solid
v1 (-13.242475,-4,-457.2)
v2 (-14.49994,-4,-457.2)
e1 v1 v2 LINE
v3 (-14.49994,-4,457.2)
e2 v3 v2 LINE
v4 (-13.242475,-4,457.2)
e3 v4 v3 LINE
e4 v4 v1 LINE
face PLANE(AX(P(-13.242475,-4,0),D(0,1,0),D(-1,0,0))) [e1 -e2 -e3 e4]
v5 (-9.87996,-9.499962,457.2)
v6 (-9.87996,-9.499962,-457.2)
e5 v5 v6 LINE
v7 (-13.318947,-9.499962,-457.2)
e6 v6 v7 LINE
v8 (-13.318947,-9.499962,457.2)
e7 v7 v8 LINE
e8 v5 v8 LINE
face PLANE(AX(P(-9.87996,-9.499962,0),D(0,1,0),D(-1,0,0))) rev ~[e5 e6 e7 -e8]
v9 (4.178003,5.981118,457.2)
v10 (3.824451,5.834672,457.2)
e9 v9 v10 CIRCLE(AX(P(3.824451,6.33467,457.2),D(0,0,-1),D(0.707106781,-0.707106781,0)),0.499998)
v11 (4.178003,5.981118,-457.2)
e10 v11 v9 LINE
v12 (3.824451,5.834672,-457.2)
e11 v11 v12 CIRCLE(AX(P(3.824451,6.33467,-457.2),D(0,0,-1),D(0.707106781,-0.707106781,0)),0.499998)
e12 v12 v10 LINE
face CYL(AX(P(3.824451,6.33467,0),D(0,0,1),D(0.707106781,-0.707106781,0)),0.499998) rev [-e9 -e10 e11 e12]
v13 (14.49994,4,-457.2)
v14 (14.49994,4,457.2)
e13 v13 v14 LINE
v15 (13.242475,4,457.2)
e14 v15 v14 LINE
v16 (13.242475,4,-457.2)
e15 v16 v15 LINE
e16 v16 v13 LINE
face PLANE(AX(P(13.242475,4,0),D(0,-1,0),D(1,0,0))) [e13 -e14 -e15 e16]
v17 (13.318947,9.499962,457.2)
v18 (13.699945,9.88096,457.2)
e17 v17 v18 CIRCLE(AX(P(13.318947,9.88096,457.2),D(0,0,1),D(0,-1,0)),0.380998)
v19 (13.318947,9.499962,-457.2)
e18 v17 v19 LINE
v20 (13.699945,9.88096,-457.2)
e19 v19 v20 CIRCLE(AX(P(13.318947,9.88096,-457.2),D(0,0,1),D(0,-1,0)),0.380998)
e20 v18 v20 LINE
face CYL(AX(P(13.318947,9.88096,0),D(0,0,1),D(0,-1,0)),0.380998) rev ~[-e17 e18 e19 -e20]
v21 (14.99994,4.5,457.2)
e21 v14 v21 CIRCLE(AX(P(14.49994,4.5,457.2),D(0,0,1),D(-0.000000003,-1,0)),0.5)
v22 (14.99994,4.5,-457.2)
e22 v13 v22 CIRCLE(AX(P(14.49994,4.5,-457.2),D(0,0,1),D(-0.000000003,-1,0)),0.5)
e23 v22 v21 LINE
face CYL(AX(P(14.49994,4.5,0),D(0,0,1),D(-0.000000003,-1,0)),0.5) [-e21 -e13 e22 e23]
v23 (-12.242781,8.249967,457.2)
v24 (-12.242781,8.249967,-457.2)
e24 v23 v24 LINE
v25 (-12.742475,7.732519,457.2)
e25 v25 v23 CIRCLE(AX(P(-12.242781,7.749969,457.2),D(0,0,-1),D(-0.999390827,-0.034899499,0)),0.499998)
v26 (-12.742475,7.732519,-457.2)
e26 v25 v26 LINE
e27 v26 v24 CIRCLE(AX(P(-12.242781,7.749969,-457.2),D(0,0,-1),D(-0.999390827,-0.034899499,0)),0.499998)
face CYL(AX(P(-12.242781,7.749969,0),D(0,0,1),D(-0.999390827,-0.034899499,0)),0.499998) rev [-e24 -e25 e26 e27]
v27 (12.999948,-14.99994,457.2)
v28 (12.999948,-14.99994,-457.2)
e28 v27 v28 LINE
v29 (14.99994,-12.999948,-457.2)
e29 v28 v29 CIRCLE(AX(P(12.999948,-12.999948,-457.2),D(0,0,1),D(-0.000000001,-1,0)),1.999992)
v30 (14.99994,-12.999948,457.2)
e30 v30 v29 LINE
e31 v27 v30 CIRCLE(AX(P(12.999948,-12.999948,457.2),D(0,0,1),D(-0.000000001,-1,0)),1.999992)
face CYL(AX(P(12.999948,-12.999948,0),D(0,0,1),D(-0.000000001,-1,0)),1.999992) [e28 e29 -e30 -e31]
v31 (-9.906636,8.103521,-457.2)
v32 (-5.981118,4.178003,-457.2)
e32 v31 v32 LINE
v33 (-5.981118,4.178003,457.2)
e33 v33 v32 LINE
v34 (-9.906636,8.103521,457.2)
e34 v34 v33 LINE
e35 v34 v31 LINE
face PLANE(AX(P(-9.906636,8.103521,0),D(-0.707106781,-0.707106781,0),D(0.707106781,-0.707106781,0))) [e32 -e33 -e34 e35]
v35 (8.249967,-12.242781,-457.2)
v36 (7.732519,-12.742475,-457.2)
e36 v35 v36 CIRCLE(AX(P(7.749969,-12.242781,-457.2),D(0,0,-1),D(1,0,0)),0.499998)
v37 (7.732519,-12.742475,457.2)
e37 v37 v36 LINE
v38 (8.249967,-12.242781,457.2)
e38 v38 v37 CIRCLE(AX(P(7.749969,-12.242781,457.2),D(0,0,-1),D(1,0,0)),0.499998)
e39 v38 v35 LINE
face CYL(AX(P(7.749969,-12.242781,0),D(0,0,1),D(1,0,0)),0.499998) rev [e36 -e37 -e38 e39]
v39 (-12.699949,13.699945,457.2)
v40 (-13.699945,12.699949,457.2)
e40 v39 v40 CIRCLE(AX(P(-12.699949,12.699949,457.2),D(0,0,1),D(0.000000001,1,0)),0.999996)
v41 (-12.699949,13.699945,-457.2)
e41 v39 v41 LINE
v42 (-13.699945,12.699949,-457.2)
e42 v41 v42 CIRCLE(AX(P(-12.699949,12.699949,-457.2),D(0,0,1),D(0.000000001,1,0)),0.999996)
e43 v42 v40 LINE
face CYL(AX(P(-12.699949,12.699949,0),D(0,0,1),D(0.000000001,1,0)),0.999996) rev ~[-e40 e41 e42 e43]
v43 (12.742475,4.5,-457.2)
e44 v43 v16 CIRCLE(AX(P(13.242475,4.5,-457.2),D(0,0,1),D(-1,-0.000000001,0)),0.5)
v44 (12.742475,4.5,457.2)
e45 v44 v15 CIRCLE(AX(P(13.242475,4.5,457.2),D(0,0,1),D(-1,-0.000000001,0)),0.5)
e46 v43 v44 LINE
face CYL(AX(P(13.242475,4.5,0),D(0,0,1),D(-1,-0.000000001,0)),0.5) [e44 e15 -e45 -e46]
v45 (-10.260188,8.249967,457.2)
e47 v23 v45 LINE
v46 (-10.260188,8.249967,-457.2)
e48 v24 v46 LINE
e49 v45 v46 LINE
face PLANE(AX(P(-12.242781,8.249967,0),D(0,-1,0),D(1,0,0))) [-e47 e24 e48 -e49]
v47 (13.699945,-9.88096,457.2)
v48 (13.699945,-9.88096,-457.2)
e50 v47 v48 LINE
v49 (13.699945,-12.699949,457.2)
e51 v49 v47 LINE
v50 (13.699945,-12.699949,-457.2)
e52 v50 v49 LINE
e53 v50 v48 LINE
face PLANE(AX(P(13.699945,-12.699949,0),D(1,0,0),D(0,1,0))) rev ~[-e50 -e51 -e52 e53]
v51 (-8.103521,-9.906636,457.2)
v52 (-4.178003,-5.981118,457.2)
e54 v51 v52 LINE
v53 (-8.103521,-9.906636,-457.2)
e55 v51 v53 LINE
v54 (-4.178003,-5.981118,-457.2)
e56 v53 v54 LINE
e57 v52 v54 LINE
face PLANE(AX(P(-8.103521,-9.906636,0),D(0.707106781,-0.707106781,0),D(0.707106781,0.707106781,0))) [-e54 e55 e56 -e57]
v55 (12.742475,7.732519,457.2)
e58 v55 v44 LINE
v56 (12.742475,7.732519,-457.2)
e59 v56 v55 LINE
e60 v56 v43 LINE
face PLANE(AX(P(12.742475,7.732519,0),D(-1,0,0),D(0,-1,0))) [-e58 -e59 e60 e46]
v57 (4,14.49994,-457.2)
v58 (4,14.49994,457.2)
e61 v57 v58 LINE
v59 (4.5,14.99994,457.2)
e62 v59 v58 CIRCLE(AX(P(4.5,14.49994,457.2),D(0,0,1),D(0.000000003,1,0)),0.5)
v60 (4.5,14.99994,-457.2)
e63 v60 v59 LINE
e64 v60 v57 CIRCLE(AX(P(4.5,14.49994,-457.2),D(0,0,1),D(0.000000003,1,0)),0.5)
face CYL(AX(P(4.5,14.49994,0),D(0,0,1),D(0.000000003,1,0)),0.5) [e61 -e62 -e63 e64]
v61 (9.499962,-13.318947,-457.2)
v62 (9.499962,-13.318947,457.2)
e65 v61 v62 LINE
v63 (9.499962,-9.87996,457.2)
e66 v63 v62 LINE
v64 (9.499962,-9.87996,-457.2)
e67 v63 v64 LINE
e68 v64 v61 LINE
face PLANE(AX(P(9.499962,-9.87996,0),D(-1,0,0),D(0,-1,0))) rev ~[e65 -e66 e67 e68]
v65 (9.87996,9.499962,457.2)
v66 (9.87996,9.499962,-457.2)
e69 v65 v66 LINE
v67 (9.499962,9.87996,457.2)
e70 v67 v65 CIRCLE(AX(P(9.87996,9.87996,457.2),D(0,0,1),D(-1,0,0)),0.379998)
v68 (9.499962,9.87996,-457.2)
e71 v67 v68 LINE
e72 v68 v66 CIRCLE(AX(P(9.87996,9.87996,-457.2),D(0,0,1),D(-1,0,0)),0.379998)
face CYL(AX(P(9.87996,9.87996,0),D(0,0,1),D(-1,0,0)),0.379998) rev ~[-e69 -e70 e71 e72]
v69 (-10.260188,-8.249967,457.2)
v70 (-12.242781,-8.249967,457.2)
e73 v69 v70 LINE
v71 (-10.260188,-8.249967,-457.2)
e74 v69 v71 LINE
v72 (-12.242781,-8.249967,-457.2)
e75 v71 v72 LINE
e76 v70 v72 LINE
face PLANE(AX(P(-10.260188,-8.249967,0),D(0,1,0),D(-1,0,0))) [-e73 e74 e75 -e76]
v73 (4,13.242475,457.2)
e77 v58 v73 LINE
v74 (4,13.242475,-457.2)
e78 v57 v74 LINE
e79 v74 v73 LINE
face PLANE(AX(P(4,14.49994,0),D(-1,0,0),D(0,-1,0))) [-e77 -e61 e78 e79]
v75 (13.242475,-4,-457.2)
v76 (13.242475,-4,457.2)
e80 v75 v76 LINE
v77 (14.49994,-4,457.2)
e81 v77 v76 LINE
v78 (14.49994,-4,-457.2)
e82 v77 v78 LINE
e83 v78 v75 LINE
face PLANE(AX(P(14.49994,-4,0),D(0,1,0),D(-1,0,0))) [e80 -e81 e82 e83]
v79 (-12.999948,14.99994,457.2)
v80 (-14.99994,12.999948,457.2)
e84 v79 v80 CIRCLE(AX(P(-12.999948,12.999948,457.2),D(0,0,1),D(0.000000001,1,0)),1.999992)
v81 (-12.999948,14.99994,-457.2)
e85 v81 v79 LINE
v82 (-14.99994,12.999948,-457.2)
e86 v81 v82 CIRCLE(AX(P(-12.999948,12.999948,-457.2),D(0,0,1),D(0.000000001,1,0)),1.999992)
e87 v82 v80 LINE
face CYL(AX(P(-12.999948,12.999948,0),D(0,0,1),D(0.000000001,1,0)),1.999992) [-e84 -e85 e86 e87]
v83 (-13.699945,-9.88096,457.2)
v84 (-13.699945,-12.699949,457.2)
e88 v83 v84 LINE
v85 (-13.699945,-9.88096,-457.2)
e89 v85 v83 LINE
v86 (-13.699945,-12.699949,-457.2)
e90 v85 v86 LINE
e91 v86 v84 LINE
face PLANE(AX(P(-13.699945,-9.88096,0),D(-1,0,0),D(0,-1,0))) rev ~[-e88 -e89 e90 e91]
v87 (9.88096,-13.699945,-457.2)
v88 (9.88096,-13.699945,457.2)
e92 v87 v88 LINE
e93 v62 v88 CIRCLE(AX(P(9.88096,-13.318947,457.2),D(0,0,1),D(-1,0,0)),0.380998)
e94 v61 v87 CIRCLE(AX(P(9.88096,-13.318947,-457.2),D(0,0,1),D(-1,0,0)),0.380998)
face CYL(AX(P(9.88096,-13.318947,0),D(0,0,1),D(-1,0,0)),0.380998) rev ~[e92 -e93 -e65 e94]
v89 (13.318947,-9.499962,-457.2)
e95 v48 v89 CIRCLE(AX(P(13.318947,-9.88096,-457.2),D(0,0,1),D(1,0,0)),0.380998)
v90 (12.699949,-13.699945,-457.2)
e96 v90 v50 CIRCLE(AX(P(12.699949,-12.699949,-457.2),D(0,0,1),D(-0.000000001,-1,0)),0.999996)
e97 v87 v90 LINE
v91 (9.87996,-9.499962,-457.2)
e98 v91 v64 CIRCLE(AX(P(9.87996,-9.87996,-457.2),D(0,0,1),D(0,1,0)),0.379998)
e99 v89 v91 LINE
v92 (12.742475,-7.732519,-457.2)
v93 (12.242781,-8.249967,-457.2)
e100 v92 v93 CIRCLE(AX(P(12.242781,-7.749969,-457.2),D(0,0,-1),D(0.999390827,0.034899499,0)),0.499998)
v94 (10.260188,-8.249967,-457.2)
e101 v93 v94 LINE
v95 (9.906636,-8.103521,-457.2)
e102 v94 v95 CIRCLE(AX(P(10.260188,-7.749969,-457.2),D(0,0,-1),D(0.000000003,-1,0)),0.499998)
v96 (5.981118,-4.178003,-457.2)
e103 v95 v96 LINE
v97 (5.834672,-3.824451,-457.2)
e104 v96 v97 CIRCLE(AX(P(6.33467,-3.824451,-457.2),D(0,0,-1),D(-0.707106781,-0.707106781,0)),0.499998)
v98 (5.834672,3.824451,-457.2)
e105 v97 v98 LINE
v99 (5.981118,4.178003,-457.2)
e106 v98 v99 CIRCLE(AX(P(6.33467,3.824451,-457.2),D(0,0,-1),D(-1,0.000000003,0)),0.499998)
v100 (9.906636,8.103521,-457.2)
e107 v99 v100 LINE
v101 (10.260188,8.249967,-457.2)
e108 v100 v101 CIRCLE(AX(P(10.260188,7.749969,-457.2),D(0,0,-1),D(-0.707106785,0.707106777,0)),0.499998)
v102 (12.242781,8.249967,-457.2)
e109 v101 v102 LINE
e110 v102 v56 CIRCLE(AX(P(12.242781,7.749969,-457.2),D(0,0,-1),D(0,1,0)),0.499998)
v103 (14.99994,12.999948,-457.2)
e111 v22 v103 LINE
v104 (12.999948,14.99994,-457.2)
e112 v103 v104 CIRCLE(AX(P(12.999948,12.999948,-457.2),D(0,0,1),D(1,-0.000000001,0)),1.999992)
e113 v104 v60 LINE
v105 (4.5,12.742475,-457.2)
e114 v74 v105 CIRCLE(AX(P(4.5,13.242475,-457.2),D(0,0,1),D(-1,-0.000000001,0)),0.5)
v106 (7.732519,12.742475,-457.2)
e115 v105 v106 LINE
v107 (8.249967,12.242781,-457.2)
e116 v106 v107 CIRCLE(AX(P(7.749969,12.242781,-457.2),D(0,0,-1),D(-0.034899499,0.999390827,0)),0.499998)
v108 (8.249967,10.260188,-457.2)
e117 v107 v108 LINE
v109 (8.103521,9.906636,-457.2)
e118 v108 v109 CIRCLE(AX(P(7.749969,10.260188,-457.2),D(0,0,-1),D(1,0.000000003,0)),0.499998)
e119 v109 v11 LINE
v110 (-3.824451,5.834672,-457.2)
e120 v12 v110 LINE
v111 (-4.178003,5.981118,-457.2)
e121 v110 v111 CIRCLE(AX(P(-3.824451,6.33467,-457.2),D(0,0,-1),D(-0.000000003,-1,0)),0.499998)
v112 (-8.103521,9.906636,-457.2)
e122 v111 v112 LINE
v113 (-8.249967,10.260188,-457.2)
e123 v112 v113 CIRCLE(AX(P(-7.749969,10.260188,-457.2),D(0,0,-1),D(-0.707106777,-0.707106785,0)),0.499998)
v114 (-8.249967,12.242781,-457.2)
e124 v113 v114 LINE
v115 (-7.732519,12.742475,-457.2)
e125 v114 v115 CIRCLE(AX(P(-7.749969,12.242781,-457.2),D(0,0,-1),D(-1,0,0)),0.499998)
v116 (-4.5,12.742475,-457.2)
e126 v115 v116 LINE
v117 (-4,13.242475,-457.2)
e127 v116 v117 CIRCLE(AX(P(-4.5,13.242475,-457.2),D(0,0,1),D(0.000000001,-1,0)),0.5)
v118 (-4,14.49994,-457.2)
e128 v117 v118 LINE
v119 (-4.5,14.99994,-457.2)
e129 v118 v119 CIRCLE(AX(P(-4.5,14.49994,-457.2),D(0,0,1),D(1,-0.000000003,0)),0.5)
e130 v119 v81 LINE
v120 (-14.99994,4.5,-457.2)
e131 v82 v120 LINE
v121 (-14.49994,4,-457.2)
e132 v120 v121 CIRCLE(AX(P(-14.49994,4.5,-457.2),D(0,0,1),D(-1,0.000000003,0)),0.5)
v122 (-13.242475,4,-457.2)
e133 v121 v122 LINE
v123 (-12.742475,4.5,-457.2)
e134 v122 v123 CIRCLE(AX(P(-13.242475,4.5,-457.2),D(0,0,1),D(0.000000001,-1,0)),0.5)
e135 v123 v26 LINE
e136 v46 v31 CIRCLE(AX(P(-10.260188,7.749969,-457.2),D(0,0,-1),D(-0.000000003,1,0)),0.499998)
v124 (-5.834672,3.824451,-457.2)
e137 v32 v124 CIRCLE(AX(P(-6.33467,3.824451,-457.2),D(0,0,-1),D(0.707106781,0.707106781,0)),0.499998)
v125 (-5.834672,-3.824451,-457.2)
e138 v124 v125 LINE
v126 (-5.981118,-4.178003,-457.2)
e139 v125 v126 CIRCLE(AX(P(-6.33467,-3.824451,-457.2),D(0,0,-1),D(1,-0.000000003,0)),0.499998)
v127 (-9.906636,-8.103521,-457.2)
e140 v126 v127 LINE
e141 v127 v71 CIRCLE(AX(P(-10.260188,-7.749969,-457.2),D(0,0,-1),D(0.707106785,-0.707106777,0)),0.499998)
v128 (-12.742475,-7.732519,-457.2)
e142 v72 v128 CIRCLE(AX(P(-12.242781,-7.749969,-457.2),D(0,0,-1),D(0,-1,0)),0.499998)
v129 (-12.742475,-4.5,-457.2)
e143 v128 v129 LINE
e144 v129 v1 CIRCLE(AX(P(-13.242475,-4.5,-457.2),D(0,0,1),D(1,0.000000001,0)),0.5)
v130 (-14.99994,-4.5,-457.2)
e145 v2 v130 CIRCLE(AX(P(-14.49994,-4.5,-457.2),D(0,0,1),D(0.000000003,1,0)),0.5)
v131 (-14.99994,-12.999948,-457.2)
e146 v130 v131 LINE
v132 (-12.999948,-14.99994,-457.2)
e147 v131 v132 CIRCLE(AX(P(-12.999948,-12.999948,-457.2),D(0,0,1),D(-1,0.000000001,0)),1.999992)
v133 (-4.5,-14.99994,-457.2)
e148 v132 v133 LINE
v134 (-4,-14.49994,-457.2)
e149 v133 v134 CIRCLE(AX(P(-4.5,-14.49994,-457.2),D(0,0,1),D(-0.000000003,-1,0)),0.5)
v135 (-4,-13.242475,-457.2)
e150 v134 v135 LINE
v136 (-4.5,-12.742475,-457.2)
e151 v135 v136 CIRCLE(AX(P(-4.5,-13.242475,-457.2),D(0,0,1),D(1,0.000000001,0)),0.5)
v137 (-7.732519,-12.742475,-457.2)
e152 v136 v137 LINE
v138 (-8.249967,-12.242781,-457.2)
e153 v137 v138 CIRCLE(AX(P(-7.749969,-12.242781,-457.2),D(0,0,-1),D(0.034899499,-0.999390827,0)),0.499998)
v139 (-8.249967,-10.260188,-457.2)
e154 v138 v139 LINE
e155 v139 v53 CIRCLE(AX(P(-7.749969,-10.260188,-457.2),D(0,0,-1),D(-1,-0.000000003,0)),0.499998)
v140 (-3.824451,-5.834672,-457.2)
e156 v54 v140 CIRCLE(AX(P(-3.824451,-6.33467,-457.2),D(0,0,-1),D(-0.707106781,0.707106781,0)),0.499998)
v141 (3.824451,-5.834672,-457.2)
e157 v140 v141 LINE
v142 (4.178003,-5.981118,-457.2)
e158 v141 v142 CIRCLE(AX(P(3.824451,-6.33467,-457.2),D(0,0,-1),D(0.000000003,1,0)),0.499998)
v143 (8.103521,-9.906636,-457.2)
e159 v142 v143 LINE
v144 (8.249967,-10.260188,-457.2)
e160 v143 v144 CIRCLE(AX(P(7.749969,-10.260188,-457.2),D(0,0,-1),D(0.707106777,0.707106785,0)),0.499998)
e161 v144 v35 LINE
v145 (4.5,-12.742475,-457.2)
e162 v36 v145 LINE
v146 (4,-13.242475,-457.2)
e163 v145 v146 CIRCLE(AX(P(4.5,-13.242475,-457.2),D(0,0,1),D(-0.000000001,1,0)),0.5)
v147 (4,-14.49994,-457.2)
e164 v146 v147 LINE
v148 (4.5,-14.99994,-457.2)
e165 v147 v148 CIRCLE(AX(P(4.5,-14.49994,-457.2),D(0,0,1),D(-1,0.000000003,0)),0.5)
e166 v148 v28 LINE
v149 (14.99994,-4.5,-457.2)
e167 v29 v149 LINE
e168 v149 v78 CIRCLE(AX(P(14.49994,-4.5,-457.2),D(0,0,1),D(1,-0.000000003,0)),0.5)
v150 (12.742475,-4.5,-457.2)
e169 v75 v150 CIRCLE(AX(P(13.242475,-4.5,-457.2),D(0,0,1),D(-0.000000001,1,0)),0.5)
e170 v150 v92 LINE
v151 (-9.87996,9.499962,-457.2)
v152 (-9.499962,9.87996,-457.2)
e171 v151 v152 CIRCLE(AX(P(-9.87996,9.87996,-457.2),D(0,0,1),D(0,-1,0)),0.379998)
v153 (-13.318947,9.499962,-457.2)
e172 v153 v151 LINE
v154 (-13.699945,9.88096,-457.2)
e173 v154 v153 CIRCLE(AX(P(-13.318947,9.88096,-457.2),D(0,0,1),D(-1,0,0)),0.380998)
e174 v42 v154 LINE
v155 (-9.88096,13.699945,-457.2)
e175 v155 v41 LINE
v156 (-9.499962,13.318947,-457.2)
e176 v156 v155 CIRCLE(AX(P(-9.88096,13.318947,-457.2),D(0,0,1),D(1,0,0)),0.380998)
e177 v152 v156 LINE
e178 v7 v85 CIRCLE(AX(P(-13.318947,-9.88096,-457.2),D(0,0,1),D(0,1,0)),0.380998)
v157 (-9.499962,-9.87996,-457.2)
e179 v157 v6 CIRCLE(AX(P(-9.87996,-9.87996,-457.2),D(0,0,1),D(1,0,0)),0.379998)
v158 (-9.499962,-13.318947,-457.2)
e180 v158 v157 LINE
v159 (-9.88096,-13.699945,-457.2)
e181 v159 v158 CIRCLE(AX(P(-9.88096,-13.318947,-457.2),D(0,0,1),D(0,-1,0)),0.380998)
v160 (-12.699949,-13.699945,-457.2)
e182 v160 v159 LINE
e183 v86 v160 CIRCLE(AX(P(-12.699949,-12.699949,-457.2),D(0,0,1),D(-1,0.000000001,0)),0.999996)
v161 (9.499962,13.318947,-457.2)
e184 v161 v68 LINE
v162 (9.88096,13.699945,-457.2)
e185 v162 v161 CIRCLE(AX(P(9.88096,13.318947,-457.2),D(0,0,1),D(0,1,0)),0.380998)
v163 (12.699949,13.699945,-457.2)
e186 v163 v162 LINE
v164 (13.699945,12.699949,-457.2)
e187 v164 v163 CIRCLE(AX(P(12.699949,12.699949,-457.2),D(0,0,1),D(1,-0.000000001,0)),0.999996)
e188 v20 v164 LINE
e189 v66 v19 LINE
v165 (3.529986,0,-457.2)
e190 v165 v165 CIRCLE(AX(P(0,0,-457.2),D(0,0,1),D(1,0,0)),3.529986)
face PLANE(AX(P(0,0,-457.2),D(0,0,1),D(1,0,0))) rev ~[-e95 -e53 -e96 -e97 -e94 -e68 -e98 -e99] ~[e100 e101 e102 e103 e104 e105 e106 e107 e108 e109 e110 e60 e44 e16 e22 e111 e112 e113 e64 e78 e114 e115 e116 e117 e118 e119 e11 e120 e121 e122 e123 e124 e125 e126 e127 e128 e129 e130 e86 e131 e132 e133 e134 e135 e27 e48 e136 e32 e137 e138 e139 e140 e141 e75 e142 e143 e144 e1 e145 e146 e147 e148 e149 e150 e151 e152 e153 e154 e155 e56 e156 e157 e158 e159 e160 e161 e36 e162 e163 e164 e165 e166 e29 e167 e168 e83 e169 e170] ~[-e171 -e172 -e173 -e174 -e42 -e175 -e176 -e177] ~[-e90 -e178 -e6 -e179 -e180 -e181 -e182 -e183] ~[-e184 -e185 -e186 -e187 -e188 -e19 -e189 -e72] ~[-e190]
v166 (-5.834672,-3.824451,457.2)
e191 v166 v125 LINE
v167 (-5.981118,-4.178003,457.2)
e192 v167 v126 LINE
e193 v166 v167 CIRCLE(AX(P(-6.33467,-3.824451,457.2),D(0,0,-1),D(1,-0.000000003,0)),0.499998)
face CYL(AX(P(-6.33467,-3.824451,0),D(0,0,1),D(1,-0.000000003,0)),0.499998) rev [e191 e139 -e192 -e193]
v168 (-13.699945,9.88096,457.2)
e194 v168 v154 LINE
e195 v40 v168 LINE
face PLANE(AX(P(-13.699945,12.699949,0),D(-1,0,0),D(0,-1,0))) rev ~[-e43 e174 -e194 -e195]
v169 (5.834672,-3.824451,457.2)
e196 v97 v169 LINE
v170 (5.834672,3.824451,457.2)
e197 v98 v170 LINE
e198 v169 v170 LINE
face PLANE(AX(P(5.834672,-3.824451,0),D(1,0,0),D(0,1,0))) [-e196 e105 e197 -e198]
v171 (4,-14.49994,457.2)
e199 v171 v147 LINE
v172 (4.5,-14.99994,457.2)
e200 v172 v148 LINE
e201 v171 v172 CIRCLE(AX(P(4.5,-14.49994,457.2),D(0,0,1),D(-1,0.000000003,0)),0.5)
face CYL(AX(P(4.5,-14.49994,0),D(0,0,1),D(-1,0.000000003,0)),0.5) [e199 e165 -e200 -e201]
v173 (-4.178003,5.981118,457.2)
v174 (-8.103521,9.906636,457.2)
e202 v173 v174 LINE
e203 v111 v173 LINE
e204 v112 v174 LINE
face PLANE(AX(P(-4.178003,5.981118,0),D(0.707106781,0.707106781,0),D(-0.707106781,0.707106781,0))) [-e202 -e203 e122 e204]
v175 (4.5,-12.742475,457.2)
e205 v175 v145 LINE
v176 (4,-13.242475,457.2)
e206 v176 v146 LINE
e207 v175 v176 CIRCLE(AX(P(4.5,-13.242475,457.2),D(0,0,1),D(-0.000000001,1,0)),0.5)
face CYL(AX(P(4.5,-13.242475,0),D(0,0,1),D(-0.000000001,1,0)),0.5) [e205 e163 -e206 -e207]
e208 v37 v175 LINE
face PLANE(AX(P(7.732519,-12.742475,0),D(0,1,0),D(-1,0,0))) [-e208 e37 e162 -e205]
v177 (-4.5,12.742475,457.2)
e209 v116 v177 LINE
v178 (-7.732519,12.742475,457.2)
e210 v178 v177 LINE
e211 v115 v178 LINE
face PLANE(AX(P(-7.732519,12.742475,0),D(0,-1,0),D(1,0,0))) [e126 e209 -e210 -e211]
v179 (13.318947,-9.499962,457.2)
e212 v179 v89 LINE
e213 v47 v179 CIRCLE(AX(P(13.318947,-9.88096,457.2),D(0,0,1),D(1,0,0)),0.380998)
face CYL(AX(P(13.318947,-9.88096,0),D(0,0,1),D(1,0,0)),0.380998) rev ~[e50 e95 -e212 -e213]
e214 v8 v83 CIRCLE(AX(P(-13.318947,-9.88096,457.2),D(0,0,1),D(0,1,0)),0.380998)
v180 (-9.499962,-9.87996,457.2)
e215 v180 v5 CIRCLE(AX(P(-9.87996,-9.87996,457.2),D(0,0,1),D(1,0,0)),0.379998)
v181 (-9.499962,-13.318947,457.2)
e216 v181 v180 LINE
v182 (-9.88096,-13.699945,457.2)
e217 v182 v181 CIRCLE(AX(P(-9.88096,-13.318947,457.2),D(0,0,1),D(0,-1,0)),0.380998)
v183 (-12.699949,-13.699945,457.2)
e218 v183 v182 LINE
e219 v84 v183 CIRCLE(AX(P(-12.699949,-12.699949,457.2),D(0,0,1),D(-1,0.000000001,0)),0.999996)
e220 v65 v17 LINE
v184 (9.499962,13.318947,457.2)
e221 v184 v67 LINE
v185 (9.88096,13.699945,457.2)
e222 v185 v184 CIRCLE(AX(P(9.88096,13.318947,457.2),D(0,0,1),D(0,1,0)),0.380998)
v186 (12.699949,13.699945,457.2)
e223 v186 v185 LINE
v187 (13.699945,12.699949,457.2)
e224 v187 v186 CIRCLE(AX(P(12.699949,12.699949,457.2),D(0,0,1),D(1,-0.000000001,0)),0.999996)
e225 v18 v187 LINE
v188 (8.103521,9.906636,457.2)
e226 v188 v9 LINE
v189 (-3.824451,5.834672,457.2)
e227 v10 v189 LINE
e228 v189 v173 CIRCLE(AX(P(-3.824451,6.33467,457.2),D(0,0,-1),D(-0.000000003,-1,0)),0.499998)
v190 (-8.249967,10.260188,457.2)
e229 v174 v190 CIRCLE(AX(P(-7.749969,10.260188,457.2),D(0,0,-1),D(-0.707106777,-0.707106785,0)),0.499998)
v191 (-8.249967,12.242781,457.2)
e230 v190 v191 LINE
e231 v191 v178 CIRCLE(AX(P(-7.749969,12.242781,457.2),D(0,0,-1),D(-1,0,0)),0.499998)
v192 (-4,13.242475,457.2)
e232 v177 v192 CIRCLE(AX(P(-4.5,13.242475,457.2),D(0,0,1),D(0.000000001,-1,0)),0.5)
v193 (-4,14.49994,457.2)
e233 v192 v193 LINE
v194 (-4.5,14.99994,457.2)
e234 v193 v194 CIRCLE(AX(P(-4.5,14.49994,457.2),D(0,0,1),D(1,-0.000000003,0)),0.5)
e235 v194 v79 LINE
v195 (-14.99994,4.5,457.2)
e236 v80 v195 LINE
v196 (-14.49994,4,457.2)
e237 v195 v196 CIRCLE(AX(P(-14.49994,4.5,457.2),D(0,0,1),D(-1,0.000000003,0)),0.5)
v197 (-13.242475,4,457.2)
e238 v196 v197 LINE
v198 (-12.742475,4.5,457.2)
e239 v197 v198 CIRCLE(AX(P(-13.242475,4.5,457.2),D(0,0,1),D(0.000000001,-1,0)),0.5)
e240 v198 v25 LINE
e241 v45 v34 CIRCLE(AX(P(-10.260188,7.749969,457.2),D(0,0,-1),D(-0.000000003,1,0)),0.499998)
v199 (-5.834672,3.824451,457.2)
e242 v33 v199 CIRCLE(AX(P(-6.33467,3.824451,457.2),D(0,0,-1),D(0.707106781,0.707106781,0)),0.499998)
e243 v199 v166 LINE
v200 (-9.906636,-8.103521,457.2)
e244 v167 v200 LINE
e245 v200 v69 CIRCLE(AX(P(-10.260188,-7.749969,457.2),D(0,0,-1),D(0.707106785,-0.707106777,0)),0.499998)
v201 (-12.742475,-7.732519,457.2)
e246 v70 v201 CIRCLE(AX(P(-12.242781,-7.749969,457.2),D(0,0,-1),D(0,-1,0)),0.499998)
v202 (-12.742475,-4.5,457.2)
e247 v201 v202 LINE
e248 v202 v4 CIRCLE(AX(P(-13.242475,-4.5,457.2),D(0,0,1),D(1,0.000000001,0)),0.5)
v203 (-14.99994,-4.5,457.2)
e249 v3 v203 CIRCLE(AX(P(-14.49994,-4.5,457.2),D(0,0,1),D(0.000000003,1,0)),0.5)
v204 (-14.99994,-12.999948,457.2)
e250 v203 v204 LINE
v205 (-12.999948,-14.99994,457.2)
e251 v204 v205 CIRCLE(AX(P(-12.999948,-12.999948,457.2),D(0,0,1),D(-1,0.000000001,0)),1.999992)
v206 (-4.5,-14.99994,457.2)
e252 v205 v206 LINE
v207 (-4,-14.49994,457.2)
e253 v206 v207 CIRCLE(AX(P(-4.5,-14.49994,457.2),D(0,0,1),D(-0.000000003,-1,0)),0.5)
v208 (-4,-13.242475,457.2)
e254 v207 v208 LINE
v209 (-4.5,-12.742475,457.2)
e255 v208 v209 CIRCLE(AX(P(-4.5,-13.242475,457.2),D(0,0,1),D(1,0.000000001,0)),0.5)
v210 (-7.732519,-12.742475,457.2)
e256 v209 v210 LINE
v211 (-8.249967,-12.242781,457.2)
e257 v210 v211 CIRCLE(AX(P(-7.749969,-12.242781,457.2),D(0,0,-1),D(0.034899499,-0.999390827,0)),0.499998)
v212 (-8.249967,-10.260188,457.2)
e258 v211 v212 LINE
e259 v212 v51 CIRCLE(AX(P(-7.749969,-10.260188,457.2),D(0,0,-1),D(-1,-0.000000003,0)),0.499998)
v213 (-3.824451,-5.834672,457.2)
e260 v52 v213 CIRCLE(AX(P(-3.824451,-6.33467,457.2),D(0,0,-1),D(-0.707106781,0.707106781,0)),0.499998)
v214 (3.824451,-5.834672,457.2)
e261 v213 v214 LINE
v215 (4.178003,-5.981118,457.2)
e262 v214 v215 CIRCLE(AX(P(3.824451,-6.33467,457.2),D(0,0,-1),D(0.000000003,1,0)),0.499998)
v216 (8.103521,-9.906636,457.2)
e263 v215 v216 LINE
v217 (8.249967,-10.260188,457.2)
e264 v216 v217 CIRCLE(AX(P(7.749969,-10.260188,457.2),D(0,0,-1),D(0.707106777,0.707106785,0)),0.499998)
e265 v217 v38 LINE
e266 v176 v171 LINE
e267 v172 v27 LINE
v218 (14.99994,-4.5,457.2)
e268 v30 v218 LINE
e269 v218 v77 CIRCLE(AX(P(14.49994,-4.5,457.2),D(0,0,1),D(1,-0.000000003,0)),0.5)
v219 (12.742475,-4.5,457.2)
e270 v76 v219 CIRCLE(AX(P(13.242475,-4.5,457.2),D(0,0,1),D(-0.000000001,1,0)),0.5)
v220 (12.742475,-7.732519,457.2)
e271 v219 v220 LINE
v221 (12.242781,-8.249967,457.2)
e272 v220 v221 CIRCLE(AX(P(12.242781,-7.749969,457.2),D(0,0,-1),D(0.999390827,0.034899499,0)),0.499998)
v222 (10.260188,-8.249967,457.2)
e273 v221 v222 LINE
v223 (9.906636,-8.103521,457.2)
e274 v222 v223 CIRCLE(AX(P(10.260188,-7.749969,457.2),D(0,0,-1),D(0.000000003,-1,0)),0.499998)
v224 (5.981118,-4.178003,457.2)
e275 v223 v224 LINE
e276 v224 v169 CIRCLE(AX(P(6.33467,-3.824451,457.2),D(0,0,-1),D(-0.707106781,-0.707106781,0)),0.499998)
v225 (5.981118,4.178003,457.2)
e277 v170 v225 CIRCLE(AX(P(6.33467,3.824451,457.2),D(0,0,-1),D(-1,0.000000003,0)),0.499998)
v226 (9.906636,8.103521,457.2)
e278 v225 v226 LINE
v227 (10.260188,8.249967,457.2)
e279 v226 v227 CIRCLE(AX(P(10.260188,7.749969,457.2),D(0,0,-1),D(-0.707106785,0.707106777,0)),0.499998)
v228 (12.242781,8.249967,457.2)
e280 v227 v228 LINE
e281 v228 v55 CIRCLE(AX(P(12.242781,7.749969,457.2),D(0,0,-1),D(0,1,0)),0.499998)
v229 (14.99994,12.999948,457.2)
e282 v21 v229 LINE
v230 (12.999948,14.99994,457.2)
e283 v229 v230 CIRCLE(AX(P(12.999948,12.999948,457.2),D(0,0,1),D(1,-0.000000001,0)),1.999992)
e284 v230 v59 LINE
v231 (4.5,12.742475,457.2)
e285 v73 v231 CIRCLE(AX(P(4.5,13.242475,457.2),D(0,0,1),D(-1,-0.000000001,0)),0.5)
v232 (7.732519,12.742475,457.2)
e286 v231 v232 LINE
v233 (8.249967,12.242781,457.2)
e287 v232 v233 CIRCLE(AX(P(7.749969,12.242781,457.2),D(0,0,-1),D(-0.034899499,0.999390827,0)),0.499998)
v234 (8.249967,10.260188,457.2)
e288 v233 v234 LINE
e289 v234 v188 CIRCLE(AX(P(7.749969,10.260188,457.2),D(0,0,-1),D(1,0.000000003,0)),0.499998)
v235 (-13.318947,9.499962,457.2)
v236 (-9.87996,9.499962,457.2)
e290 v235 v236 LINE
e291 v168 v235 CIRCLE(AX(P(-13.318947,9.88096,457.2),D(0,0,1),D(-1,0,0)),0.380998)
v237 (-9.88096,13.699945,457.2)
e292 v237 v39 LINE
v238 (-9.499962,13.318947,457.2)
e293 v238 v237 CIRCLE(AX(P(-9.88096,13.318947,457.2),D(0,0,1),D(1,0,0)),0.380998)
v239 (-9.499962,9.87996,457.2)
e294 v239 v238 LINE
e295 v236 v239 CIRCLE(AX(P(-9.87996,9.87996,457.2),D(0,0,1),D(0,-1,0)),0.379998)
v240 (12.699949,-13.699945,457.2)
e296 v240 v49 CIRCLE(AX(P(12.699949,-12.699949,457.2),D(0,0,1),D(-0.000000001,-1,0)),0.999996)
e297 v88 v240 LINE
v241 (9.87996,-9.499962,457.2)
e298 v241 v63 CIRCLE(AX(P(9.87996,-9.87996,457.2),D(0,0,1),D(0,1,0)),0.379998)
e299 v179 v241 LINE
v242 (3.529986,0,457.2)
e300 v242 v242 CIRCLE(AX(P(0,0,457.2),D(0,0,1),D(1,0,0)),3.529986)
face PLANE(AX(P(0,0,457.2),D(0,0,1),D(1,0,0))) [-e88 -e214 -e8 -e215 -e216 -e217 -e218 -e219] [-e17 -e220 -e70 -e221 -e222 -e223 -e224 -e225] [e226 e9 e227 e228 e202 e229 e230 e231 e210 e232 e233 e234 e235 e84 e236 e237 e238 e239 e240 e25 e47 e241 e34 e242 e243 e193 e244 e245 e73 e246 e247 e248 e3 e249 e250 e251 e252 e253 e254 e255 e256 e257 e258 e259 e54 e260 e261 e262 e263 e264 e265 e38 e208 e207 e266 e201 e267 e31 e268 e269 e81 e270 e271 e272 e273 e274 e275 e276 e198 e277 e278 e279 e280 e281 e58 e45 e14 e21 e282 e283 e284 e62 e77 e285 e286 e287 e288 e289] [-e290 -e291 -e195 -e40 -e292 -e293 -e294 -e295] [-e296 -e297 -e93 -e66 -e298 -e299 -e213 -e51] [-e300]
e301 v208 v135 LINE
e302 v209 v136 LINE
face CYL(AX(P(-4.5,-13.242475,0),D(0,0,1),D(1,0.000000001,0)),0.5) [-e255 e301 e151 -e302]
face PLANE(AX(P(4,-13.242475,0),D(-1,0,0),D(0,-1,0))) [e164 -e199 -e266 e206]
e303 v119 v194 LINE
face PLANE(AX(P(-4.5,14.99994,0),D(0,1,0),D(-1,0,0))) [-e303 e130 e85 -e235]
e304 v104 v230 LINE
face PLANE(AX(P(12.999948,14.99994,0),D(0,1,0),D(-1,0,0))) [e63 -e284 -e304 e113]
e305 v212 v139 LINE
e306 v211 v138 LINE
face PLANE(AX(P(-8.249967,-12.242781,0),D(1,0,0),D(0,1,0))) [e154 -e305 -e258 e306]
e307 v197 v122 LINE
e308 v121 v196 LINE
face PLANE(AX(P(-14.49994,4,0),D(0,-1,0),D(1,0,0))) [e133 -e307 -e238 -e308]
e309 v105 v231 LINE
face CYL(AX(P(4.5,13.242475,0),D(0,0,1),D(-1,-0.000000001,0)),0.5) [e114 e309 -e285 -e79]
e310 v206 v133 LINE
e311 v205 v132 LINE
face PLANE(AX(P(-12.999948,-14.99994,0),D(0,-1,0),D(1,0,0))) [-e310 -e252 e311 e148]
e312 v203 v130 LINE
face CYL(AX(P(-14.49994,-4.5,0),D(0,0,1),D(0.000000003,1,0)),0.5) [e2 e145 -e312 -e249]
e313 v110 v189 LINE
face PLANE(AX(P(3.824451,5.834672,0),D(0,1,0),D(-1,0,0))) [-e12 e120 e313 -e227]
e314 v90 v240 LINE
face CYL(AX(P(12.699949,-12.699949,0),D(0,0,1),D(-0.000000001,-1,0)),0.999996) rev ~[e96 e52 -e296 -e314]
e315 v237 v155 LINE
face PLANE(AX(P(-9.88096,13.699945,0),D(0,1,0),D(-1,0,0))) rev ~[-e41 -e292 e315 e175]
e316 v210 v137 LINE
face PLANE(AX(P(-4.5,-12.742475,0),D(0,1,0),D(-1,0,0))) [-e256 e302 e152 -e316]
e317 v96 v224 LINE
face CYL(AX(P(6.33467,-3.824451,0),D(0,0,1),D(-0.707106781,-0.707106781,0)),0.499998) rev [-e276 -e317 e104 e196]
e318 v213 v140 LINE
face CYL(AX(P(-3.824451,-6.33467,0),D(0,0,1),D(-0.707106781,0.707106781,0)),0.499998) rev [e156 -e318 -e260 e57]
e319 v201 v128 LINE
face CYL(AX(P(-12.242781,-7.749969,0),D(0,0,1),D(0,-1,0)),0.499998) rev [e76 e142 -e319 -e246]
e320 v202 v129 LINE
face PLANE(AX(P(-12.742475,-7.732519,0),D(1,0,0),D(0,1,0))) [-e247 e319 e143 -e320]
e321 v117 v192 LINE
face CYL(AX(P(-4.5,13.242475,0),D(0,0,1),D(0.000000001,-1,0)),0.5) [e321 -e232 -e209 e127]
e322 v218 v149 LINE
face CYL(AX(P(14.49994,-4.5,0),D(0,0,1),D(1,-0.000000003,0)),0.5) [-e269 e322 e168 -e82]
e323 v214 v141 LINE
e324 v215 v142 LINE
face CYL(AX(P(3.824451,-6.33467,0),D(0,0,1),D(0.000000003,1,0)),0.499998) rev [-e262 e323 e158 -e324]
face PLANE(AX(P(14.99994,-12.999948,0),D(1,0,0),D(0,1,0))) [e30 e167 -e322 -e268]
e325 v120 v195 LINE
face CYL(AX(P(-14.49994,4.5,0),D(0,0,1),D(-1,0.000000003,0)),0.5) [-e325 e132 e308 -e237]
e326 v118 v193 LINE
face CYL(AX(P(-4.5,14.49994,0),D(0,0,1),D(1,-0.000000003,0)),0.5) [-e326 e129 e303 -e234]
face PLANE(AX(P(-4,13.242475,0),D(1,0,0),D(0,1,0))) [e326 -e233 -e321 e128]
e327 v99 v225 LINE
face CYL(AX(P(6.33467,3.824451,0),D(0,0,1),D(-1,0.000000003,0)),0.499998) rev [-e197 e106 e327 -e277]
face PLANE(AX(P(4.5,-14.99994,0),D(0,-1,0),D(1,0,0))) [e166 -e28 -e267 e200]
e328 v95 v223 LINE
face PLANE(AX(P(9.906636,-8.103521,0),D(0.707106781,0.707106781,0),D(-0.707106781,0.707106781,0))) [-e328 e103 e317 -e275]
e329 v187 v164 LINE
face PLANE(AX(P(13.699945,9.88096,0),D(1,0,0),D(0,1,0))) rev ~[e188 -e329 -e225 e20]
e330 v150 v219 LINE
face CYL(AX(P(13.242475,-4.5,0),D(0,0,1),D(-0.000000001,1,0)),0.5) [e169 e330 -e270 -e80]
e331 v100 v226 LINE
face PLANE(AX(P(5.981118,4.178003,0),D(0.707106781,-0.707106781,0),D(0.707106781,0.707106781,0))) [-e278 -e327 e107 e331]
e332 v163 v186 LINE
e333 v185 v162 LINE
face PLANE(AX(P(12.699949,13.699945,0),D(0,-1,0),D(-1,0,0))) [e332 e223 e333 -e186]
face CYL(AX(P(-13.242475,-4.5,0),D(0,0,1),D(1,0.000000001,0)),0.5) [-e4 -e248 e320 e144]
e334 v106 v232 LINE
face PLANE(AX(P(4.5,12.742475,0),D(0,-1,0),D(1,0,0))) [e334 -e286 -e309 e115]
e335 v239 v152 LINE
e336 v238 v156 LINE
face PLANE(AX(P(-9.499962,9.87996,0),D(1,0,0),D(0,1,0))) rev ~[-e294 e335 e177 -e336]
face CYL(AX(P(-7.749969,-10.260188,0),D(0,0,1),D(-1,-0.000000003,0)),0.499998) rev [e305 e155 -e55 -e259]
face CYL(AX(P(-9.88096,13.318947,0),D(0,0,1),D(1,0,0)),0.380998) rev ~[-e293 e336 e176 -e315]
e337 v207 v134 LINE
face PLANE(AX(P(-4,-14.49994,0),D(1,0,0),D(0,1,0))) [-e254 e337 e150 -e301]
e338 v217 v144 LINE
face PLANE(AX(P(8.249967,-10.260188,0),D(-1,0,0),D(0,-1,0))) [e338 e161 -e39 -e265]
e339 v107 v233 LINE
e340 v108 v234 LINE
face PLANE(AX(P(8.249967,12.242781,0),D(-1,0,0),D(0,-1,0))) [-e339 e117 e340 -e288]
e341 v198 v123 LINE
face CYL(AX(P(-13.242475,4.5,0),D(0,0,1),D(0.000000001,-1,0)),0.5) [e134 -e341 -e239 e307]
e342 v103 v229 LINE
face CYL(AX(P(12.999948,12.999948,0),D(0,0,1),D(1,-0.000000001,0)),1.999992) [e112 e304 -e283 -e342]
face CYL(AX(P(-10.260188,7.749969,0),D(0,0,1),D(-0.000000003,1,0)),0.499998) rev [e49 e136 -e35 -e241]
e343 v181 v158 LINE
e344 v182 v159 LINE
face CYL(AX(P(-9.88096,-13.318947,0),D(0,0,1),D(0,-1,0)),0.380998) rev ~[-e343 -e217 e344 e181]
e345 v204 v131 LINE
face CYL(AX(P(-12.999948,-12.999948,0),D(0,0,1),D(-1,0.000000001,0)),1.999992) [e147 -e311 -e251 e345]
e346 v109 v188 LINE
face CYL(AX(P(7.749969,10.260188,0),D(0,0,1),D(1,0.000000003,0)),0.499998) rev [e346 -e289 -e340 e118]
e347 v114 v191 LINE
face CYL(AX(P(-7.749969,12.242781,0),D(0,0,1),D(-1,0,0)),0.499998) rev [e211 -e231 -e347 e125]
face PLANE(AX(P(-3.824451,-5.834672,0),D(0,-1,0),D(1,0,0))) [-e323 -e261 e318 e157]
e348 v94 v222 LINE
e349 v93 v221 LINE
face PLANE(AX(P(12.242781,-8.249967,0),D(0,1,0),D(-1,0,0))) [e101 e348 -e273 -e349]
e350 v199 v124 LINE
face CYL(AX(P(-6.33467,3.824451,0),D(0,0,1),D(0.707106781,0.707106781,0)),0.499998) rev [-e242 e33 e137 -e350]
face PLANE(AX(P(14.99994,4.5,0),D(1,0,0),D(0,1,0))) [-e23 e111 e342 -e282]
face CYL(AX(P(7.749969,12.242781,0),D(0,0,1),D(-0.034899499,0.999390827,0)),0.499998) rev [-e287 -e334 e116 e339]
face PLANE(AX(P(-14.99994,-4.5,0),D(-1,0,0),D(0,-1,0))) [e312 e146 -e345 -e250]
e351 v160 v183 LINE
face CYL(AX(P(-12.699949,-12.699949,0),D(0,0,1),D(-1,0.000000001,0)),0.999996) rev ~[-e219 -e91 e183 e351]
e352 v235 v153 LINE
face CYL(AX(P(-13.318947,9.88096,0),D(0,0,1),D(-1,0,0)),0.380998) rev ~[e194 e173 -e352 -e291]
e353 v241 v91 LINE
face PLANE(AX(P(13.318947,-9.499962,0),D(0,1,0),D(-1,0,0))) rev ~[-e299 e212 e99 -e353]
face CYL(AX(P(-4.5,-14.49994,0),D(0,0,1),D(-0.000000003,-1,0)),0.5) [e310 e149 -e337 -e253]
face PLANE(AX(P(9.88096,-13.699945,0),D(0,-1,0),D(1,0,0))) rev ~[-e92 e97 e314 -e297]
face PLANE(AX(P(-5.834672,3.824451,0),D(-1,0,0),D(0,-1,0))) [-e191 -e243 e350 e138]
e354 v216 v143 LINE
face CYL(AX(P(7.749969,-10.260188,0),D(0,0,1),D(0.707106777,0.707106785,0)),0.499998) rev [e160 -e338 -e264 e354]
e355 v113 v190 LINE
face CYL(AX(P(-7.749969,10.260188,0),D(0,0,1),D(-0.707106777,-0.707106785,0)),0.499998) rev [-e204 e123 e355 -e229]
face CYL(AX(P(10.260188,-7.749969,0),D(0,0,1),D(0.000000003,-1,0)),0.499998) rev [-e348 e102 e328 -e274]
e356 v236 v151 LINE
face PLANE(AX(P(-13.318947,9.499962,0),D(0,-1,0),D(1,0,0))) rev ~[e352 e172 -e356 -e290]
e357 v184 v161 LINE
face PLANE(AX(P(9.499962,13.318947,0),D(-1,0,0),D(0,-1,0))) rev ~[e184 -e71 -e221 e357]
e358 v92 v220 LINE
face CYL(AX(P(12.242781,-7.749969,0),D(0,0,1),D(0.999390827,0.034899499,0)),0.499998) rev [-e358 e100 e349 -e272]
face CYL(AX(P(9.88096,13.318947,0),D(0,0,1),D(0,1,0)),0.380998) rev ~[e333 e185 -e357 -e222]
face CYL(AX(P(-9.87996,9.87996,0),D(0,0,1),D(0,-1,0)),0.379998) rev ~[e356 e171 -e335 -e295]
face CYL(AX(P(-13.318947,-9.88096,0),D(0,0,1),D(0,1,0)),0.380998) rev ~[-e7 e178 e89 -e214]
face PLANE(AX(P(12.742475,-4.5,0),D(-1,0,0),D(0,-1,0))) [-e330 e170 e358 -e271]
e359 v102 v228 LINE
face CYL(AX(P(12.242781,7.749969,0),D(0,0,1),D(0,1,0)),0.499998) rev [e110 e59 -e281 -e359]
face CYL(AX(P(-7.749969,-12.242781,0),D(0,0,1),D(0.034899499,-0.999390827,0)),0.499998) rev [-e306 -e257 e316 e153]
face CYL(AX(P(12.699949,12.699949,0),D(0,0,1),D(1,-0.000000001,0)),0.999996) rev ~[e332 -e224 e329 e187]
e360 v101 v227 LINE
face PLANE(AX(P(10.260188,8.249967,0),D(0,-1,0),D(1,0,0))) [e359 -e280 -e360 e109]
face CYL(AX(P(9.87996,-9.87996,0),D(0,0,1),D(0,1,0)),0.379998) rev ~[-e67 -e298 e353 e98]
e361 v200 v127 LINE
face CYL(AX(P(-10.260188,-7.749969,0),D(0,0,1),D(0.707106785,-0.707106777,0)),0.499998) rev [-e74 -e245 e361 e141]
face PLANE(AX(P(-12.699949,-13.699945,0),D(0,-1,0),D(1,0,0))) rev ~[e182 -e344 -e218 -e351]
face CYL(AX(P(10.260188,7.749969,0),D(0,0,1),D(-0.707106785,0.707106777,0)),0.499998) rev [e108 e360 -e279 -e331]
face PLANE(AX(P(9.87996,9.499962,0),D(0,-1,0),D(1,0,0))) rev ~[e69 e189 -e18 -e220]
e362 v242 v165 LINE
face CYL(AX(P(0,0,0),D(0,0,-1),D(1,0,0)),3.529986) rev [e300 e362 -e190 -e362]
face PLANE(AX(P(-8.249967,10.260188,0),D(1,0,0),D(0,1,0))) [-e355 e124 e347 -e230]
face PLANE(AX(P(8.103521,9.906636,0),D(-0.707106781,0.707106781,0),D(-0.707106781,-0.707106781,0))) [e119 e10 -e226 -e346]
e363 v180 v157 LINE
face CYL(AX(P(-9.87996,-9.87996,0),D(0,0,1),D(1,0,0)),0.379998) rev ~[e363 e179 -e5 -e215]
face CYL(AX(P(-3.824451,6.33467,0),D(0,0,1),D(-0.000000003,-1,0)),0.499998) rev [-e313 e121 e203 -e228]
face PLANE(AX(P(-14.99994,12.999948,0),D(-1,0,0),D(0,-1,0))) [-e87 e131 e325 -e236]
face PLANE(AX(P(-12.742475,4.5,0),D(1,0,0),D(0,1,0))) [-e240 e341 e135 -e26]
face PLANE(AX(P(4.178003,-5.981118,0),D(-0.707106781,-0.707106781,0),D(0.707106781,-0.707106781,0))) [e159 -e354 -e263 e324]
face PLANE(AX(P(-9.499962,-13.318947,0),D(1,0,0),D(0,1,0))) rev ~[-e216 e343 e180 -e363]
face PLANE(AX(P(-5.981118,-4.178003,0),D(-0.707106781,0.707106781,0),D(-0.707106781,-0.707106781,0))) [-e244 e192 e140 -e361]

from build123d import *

# Parameters (mm, degrees)
SKETCH1_R           = 3.52998588
BOSS_EXTRUDE1_DEPTH = 457.2


with BuildPart() as part:
    # Sketch1 → Boss-Extrude1 (new, symmetric)
    with BuildSketch(Plane.XY):
        with BuildLine():
            Line((14.49994, -4), (13.24247465, -4))
            ThreePointArc((13.24247465, -4), (12.88892126, -4.146446609), (12.74247465, -4.5))
            Line((12.74247465, -4.5), (12.74247465, -7.732519321))
            ThreePointArc((12.74247465, -7.732519321), (12.602449697, -8.097296796), (12.242781236, -8.249967))
            Line((12.242781236, -8.249967), (10.260188032, -8.249967))
            ThreePointArc((10.260188032, -8.249967), (10.068847082, -8.211906919), (9.906636056, -8.103520976))
            Line((9.906636056, -8.103520976), (5.981117769, -4.178002689))
            ThreePointArc((5.981117769, -4.178002689), (5.872731827, -4.015791664), (5.834671745, -3.824450713))
            Line((5.834671745, -3.824450713), (5.834671745, -1.01249595))
            Line((5.834671745, -1.01249595), (5.834671745, 0.88749645))
            Line((5.834671745, 0.88749645), (5.834671745, 3.824450713))
            ThreePointArc((5.834671745, 3.824450713), (5.872731827, 4.015791664), (5.981117769, 4.178002689))
            Line((5.981117769, 4.178002689), (9.906636056, 8.103520976))
            ThreePointArc((9.906636056, 8.103520976), (10.068847082, 8.211906919), (10.260188032, 8.249967))
            Line((10.260188032, 8.249967), (12.242781236, 8.249967))
            ThreePointArc((12.242781236, 8.249967), (12.602449697, 8.097296796), (12.74247465, 7.732519321))
            Line((12.74247465, 7.732519321), (12.74247465, 4.5))
            ThreePointArc((12.74247465, 4.5), (12.88892126, 4.146446609), (13.24247465, 4))
            Line((13.24247465, 4), (14.49994, 4))
            ThreePointArc((14.49994, 4), (14.853493391, 4.146446609), (14.99994, 4.5))
            Line((14.99994, 4.5), (14.99994, 12.999948))
            ThreePointArc((14.99994, 12.999948), (14.414155906, 14.414155906), (12.999948, 14.99994))
            Line((12.999948, 14.99994), (4.5, 14.99994))
            ThreePointArc((4.5, 14.99994), (4.146446609, 14.853493391), (4, 14.49994))
            Line((4, 14.49994), (4, 13.24247465))
            ThreePointArc((4, 13.24247465), (4.146446609, 12.88892126), (4.5, 12.74247465))
            Line((4.5, 12.74247465), (7.732519321, 12.74247465))
            ThreePointArc((7.732519321, 12.74247465), (8.097296796, 12.602449697), (8.249967, 12.242781236))
            Line((8.249967, 12.242781236), (8.249967, 10.260188032))
            ThreePointArc((8.249967, 10.260188032), (8.211906919, 10.068847082), (8.103520976, 9.906636056))
            Line((8.103520976, 9.906636056), (4.178002689, 5.981117769))
            ThreePointArc((4.178002689, 5.981117769), (4.015791664, 5.872731827), (3.824450713, 5.834671745))
            Line((3.824450713, 5.834671745), (0.9499962, 5.834671745))
            Line((0.9499962, 5.834671745), (-0.9499962, 5.834671745))
            Line((-0.9499962, 5.834671745), (-3.824450713, 5.834671745))
            ThreePointArc((-3.824450713, 5.834671745), (-4.015791664, 5.872731827), (-4.178002689, 5.981117769))
            Line((-4.178002689, 5.981117769), (-8.103520976, 9.906636056))
            ThreePointArc((-8.103520976, 9.906636056), (-8.211906919, 10.068847082), (-8.249967, 10.260188032))
            Line((-8.249967, 10.260188032), (-8.249967, 12.242781236))
            ThreePointArc((-8.249967, 12.242781236), (-8.097296796, 12.602449697), (-7.732519321, 12.74247465))
            Line((-7.732519321, 12.74247465), (-4.5, 12.74247465))
            ThreePointArc((-4.5, 12.74247465), (-4.146446609, 12.88892126), (-4, 13.24247465))
            Line((-4, 13.24247465), (-4, 14.49994))
            ThreePointArc((-4, 14.49994), (-4.146446609, 14.853493391), (-4.5, 14.99994))
            Line((-4.5, 14.99994), (-12.999948, 14.99994))
            ThreePointArc((-12.999948, 14.99994), (-14.414155906, 14.414155906), (-14.99994, 12.999948))
            Line((-14.99994, 12.999948), (-14.99994, 4.5))
            ThreePointArc((-14.99994, 4.5), (-14.853493391, 4.146446609), (-14.49994, 4))
            Line((-14.49994, 4), (-13.24247465, 4))
            ThreePointArc((-13.24247465, 4), (-12.88892126, 4.146446609), (-12.74247465, 4.5))
            Line((-12.74247465, 4.5), (-12.74247465, 7.732519321))
            ThreePointArc((-12.74247465, 7.732519321), (-12.602449697, 8.097296796), (-12.242781236, 8.249967))
            Line((-12.242781236, 8.249967), (-10.260188032, 8.249967))
            ThreePointArc((-10.260188032, 8.249967), (-10.068847082, 8.211906919), (-9.906636056, 8.103520976))
            Line((-9.906636056, 8.103520976), (-5.981117769, 4.178002689))
            ThreePointArc((-5.981117769, 4.178002689), (-5.872731827, 4.015791664), (-5.834671745, 3.824450713))
            Line((-5.834671745, 3.824450713), (-5.834671745, 0.88749645))
            Line((-5.834671745, 0.88749645), (-5.834671745, -1.01249595))
            Line((-5.834671745, -1.01249595), (-5.834671745, -3.824450713))
            ThreePointArc((-5.834671745, -3.824450713), (-5.872731827, -4.015791664), (-5.981117769, -4.178002689))
            Line((-5.981117769, -4.178002689), (-9.906636056, -8.103520976))
            ThreePointArc((-9.906636056, -8.103520976), (-10.068847082, -8.211906919), (-10.260188032, -8.249967))
            Line((-10.260188032, -8.249967), (-12.242781236, -8.249967))
            ThreePointArc((-12.242781236, -8.249967), (-12.602449697, -8.097296796), (-12.74247465, -7.732519321))
            Line((-12.74247465, -7.732519321), (-12.74247465, -4.5))
            ThreePointArc((-12.74247465, -4.5), (-12.88892126, -4.146446609), (-13.24247465, -4))
            Line((-13.24247465, -4), (-14.49994, -4))
            ThreePointArc((-14.49994, -4), (-14.853493391, -4.146446609), (-14.99994, -4.5))
            Line((-14.99994, -4.5), (-14.99994, -12.999948))
            ThreePointArc((-14.99994, -12.999948), (-14.414155906, -14.414155906), (-12.999948, -14.99994))
            Line((-12.999948, -14.99994), (-4.5, -14.99994))
            ThreePointArc((-4.5, -14.99994), (-4.146446609, -14.853493391), (-4, -14.49994))
            Line((-4, -14.49994), (-4, -13.24247465))
            ThreePointArc((-4, -13.24247465), (-4.146446609, -12.88892126), (-4.5, -12.74247465))
            Line((-4.5, -12.74247465), (-7.732519321, -12.74247465))
            ThreePointArc((-7.732519321, -12.74247465), (-8.097296796, -12.602449697), (-8.249967, -12.242781236))
            Line((-8.249967, -12.242781236), (-8.249967, -10.260188032))
            ThreePointArc((-8.249967, -10.260188032), (-8.211906919, -10.068847082), (-8.103520976, -9.906636056))
            Line((-8.103520976, -9.906636056), (-4.178002689, -5.981117769))
            ThreePointArc((-4.178002689, -5.981117769), (-4.015791664, -5.872731827), (-3.824450713, -5.834671745))
            Line((-3.824450713, -5.834671745), (-0.9499962, -5.834671745))
            Line((-0.9499962, -5.834671745), (0.9499962, -5.834671745))
            Line((0.9499962, -5.834671745), (3.824450713, -5.834671745))
            ThreePointArc((3.824450713, -5.834671745), (4.015791664, -5.872731827), (4.178002689, -5.981117769))
            Line((4.178002689, -5.981117769), (8.103520976, -9.906636056))
            ThreePointArc((8.103520976, -9.906636056), (8.211906919, -10.068847082), (8.249967, -10.260188032))
            Line((8.249967, -10.260188032), (8.249967, -12.242781236))
            ThreePointArc((8.249967, -12.242781236), (8.097296796, -12.602449697), (7.732519321, -12.74247465))
            Line((7.732519321, -12.74247465), (4.5, -12.74247465))
            ThreePointArc((4.5, -12.74247465), (4.146446609, -12.88892126), (4, -13.24247465))
            Line((4, -13.24247465), (4, -14.49994))
            ThreePointArc((4, -14.49994), (4.146446609, -14.853493391), (4.5, -14.99994))
            Line((4.5, -14.99994), (12.999948, -14.99994))
            ThreePointArc((12.999948, -14.99994), (14.414155906, -14.414155906), (14.99994, -12.999948))
            Line((14.99994, -12.999948), (14.99994, -4.5))
            ThreePointArc((14.99994, -4.5), (14.853493391, -4.146446609), (14.49994, -4))
        make_face()
        Circle(SKETCH1_R, mode=Mode.SUBTRACT)
        with BuildLine():
            Line((-12.6999492, -13.6999452), (-9.880960476, -13.6999452))
            ThreePointArc((-9.880960476, -13.6999452), (-9.61155387, -13.58835333), (-9.499962, -13.318946724))
            Line((-9.499962, -13.318946724), (-9.499962, -9.87996048))
            ThreePointArc((-9.499962, -9.87996048), (-9.611260978, -9.611260978), (-9.87996048, -9.499962))
            Line((-9.87996048, -9.499962), (-13.318946724, -9.499962))
            ThreePointArc((-13.318946724, -9.499962), (-13.58835333, -9.61155387), (-13.6999452, -9.880960476))
            Line((-13.6999452, -9.880960476), (-13.6999452, -12.6999492))
            ThreePointArc((-13.6999452, -12.6999492), (-13.407053153, -13.407053153), (-12.6999492, -13.6999452))
        make_face(mode=Mode.SUBTRACT)
        with BuildLine():
            Line((13.6999452, -12.6999492), (13.6999452, -9.880960476))
            ThreePointArc((13.6999452, -9.880960476), (13.58835333, -9.61155387), (13.318946724, -9.499962))
            Line((13.318946724, -9.499962), (9.87996048, -9.499962))
            ThreePointArc((9.87996048, -9.499962), (9.611260978, -9.611260978), (9.499962, -9.87996048))
            Line((9.499962, -9.87996048), (9.499962, -13.318946724))
            ThreePointArc((9.499962, -13.318946724), (9.61155387, -13.58835333), (9.880960476, -13.6999452))
            Line((9.880960476, -13.6999452), (12.6999492, -13.6999452))
            ThreePointArc((12.6999492, -13.6999452), (13.407053153, -13.407053153), (13.6999452, -12.6999492))
        make_face(mode=Mode.SUBTRACT)
        with BuildLine():
            Line((9.87996048, 9.499962), (13.318946724, 9.499962))
            ThreePointArc((13.318946724, 9.499962), (13.58835333, 9.61155387), (13.6999452, 9.880960476))
            Line((13.6999452, 9.880960476), (13.6999452, 12.6999492))
            ThreePointArc((13.6999452, 12.6999492), (13.407053153, 13.407053153), (12.6999492, 13.6999452))
            Line((12.6999492, 13.6999452), (9.880960476, 13.6999452))
            ThreePointArc((9.880960476, 13.6999452), (9.61155387, 13.58835333), (9.499962, 13.318946724))
            Line((9.499962, 13.318946724), (9.499962, 9.87996048))
            ThreePointArc((9.499962, 9.87996048), (9.611260978, 9.611260978), (9.87996048, 9.499962))
        make_face(mode=Mode.SUBTRACT)
        with BuildLine():
            Line((-13.6999452, 12.6999492), (-13.6999452, 9.880960476))
            ThreePointArc((-13.6999452, 9.880960476), (-13.58835333, 9.61155387), (-13.318946724, 9.499962))
            Line((-13.318946724, 9.499962), (-9.87996048, 9.499962))
            ThreePointArc((-9.87996048, 9.499962), (-9.611260978, 9.611260978), (-9.499962, 9.87996048))
            Line((-9.499962, 9.87996048), (-9.499962, 13.318946724))
            ThreePointArc((-9.499962, 13.318946724), (-9.61155387, 13.58835333), (-9.880960476, 13.6999452))
            Line((-9.880960476, 13.6999452), (-12.6999492, 13.6999452))
            ThreePointArc((-12.6999492, 13.6999452), (-13.407053153, 13.407053153), (-13.6999452, 12.6999492))
        make_face(mode=Mode.SUBTRACT)
    extrude(amount=BOSS_EXTRUDE1_DEPTH, both=True)


solid = part.part
